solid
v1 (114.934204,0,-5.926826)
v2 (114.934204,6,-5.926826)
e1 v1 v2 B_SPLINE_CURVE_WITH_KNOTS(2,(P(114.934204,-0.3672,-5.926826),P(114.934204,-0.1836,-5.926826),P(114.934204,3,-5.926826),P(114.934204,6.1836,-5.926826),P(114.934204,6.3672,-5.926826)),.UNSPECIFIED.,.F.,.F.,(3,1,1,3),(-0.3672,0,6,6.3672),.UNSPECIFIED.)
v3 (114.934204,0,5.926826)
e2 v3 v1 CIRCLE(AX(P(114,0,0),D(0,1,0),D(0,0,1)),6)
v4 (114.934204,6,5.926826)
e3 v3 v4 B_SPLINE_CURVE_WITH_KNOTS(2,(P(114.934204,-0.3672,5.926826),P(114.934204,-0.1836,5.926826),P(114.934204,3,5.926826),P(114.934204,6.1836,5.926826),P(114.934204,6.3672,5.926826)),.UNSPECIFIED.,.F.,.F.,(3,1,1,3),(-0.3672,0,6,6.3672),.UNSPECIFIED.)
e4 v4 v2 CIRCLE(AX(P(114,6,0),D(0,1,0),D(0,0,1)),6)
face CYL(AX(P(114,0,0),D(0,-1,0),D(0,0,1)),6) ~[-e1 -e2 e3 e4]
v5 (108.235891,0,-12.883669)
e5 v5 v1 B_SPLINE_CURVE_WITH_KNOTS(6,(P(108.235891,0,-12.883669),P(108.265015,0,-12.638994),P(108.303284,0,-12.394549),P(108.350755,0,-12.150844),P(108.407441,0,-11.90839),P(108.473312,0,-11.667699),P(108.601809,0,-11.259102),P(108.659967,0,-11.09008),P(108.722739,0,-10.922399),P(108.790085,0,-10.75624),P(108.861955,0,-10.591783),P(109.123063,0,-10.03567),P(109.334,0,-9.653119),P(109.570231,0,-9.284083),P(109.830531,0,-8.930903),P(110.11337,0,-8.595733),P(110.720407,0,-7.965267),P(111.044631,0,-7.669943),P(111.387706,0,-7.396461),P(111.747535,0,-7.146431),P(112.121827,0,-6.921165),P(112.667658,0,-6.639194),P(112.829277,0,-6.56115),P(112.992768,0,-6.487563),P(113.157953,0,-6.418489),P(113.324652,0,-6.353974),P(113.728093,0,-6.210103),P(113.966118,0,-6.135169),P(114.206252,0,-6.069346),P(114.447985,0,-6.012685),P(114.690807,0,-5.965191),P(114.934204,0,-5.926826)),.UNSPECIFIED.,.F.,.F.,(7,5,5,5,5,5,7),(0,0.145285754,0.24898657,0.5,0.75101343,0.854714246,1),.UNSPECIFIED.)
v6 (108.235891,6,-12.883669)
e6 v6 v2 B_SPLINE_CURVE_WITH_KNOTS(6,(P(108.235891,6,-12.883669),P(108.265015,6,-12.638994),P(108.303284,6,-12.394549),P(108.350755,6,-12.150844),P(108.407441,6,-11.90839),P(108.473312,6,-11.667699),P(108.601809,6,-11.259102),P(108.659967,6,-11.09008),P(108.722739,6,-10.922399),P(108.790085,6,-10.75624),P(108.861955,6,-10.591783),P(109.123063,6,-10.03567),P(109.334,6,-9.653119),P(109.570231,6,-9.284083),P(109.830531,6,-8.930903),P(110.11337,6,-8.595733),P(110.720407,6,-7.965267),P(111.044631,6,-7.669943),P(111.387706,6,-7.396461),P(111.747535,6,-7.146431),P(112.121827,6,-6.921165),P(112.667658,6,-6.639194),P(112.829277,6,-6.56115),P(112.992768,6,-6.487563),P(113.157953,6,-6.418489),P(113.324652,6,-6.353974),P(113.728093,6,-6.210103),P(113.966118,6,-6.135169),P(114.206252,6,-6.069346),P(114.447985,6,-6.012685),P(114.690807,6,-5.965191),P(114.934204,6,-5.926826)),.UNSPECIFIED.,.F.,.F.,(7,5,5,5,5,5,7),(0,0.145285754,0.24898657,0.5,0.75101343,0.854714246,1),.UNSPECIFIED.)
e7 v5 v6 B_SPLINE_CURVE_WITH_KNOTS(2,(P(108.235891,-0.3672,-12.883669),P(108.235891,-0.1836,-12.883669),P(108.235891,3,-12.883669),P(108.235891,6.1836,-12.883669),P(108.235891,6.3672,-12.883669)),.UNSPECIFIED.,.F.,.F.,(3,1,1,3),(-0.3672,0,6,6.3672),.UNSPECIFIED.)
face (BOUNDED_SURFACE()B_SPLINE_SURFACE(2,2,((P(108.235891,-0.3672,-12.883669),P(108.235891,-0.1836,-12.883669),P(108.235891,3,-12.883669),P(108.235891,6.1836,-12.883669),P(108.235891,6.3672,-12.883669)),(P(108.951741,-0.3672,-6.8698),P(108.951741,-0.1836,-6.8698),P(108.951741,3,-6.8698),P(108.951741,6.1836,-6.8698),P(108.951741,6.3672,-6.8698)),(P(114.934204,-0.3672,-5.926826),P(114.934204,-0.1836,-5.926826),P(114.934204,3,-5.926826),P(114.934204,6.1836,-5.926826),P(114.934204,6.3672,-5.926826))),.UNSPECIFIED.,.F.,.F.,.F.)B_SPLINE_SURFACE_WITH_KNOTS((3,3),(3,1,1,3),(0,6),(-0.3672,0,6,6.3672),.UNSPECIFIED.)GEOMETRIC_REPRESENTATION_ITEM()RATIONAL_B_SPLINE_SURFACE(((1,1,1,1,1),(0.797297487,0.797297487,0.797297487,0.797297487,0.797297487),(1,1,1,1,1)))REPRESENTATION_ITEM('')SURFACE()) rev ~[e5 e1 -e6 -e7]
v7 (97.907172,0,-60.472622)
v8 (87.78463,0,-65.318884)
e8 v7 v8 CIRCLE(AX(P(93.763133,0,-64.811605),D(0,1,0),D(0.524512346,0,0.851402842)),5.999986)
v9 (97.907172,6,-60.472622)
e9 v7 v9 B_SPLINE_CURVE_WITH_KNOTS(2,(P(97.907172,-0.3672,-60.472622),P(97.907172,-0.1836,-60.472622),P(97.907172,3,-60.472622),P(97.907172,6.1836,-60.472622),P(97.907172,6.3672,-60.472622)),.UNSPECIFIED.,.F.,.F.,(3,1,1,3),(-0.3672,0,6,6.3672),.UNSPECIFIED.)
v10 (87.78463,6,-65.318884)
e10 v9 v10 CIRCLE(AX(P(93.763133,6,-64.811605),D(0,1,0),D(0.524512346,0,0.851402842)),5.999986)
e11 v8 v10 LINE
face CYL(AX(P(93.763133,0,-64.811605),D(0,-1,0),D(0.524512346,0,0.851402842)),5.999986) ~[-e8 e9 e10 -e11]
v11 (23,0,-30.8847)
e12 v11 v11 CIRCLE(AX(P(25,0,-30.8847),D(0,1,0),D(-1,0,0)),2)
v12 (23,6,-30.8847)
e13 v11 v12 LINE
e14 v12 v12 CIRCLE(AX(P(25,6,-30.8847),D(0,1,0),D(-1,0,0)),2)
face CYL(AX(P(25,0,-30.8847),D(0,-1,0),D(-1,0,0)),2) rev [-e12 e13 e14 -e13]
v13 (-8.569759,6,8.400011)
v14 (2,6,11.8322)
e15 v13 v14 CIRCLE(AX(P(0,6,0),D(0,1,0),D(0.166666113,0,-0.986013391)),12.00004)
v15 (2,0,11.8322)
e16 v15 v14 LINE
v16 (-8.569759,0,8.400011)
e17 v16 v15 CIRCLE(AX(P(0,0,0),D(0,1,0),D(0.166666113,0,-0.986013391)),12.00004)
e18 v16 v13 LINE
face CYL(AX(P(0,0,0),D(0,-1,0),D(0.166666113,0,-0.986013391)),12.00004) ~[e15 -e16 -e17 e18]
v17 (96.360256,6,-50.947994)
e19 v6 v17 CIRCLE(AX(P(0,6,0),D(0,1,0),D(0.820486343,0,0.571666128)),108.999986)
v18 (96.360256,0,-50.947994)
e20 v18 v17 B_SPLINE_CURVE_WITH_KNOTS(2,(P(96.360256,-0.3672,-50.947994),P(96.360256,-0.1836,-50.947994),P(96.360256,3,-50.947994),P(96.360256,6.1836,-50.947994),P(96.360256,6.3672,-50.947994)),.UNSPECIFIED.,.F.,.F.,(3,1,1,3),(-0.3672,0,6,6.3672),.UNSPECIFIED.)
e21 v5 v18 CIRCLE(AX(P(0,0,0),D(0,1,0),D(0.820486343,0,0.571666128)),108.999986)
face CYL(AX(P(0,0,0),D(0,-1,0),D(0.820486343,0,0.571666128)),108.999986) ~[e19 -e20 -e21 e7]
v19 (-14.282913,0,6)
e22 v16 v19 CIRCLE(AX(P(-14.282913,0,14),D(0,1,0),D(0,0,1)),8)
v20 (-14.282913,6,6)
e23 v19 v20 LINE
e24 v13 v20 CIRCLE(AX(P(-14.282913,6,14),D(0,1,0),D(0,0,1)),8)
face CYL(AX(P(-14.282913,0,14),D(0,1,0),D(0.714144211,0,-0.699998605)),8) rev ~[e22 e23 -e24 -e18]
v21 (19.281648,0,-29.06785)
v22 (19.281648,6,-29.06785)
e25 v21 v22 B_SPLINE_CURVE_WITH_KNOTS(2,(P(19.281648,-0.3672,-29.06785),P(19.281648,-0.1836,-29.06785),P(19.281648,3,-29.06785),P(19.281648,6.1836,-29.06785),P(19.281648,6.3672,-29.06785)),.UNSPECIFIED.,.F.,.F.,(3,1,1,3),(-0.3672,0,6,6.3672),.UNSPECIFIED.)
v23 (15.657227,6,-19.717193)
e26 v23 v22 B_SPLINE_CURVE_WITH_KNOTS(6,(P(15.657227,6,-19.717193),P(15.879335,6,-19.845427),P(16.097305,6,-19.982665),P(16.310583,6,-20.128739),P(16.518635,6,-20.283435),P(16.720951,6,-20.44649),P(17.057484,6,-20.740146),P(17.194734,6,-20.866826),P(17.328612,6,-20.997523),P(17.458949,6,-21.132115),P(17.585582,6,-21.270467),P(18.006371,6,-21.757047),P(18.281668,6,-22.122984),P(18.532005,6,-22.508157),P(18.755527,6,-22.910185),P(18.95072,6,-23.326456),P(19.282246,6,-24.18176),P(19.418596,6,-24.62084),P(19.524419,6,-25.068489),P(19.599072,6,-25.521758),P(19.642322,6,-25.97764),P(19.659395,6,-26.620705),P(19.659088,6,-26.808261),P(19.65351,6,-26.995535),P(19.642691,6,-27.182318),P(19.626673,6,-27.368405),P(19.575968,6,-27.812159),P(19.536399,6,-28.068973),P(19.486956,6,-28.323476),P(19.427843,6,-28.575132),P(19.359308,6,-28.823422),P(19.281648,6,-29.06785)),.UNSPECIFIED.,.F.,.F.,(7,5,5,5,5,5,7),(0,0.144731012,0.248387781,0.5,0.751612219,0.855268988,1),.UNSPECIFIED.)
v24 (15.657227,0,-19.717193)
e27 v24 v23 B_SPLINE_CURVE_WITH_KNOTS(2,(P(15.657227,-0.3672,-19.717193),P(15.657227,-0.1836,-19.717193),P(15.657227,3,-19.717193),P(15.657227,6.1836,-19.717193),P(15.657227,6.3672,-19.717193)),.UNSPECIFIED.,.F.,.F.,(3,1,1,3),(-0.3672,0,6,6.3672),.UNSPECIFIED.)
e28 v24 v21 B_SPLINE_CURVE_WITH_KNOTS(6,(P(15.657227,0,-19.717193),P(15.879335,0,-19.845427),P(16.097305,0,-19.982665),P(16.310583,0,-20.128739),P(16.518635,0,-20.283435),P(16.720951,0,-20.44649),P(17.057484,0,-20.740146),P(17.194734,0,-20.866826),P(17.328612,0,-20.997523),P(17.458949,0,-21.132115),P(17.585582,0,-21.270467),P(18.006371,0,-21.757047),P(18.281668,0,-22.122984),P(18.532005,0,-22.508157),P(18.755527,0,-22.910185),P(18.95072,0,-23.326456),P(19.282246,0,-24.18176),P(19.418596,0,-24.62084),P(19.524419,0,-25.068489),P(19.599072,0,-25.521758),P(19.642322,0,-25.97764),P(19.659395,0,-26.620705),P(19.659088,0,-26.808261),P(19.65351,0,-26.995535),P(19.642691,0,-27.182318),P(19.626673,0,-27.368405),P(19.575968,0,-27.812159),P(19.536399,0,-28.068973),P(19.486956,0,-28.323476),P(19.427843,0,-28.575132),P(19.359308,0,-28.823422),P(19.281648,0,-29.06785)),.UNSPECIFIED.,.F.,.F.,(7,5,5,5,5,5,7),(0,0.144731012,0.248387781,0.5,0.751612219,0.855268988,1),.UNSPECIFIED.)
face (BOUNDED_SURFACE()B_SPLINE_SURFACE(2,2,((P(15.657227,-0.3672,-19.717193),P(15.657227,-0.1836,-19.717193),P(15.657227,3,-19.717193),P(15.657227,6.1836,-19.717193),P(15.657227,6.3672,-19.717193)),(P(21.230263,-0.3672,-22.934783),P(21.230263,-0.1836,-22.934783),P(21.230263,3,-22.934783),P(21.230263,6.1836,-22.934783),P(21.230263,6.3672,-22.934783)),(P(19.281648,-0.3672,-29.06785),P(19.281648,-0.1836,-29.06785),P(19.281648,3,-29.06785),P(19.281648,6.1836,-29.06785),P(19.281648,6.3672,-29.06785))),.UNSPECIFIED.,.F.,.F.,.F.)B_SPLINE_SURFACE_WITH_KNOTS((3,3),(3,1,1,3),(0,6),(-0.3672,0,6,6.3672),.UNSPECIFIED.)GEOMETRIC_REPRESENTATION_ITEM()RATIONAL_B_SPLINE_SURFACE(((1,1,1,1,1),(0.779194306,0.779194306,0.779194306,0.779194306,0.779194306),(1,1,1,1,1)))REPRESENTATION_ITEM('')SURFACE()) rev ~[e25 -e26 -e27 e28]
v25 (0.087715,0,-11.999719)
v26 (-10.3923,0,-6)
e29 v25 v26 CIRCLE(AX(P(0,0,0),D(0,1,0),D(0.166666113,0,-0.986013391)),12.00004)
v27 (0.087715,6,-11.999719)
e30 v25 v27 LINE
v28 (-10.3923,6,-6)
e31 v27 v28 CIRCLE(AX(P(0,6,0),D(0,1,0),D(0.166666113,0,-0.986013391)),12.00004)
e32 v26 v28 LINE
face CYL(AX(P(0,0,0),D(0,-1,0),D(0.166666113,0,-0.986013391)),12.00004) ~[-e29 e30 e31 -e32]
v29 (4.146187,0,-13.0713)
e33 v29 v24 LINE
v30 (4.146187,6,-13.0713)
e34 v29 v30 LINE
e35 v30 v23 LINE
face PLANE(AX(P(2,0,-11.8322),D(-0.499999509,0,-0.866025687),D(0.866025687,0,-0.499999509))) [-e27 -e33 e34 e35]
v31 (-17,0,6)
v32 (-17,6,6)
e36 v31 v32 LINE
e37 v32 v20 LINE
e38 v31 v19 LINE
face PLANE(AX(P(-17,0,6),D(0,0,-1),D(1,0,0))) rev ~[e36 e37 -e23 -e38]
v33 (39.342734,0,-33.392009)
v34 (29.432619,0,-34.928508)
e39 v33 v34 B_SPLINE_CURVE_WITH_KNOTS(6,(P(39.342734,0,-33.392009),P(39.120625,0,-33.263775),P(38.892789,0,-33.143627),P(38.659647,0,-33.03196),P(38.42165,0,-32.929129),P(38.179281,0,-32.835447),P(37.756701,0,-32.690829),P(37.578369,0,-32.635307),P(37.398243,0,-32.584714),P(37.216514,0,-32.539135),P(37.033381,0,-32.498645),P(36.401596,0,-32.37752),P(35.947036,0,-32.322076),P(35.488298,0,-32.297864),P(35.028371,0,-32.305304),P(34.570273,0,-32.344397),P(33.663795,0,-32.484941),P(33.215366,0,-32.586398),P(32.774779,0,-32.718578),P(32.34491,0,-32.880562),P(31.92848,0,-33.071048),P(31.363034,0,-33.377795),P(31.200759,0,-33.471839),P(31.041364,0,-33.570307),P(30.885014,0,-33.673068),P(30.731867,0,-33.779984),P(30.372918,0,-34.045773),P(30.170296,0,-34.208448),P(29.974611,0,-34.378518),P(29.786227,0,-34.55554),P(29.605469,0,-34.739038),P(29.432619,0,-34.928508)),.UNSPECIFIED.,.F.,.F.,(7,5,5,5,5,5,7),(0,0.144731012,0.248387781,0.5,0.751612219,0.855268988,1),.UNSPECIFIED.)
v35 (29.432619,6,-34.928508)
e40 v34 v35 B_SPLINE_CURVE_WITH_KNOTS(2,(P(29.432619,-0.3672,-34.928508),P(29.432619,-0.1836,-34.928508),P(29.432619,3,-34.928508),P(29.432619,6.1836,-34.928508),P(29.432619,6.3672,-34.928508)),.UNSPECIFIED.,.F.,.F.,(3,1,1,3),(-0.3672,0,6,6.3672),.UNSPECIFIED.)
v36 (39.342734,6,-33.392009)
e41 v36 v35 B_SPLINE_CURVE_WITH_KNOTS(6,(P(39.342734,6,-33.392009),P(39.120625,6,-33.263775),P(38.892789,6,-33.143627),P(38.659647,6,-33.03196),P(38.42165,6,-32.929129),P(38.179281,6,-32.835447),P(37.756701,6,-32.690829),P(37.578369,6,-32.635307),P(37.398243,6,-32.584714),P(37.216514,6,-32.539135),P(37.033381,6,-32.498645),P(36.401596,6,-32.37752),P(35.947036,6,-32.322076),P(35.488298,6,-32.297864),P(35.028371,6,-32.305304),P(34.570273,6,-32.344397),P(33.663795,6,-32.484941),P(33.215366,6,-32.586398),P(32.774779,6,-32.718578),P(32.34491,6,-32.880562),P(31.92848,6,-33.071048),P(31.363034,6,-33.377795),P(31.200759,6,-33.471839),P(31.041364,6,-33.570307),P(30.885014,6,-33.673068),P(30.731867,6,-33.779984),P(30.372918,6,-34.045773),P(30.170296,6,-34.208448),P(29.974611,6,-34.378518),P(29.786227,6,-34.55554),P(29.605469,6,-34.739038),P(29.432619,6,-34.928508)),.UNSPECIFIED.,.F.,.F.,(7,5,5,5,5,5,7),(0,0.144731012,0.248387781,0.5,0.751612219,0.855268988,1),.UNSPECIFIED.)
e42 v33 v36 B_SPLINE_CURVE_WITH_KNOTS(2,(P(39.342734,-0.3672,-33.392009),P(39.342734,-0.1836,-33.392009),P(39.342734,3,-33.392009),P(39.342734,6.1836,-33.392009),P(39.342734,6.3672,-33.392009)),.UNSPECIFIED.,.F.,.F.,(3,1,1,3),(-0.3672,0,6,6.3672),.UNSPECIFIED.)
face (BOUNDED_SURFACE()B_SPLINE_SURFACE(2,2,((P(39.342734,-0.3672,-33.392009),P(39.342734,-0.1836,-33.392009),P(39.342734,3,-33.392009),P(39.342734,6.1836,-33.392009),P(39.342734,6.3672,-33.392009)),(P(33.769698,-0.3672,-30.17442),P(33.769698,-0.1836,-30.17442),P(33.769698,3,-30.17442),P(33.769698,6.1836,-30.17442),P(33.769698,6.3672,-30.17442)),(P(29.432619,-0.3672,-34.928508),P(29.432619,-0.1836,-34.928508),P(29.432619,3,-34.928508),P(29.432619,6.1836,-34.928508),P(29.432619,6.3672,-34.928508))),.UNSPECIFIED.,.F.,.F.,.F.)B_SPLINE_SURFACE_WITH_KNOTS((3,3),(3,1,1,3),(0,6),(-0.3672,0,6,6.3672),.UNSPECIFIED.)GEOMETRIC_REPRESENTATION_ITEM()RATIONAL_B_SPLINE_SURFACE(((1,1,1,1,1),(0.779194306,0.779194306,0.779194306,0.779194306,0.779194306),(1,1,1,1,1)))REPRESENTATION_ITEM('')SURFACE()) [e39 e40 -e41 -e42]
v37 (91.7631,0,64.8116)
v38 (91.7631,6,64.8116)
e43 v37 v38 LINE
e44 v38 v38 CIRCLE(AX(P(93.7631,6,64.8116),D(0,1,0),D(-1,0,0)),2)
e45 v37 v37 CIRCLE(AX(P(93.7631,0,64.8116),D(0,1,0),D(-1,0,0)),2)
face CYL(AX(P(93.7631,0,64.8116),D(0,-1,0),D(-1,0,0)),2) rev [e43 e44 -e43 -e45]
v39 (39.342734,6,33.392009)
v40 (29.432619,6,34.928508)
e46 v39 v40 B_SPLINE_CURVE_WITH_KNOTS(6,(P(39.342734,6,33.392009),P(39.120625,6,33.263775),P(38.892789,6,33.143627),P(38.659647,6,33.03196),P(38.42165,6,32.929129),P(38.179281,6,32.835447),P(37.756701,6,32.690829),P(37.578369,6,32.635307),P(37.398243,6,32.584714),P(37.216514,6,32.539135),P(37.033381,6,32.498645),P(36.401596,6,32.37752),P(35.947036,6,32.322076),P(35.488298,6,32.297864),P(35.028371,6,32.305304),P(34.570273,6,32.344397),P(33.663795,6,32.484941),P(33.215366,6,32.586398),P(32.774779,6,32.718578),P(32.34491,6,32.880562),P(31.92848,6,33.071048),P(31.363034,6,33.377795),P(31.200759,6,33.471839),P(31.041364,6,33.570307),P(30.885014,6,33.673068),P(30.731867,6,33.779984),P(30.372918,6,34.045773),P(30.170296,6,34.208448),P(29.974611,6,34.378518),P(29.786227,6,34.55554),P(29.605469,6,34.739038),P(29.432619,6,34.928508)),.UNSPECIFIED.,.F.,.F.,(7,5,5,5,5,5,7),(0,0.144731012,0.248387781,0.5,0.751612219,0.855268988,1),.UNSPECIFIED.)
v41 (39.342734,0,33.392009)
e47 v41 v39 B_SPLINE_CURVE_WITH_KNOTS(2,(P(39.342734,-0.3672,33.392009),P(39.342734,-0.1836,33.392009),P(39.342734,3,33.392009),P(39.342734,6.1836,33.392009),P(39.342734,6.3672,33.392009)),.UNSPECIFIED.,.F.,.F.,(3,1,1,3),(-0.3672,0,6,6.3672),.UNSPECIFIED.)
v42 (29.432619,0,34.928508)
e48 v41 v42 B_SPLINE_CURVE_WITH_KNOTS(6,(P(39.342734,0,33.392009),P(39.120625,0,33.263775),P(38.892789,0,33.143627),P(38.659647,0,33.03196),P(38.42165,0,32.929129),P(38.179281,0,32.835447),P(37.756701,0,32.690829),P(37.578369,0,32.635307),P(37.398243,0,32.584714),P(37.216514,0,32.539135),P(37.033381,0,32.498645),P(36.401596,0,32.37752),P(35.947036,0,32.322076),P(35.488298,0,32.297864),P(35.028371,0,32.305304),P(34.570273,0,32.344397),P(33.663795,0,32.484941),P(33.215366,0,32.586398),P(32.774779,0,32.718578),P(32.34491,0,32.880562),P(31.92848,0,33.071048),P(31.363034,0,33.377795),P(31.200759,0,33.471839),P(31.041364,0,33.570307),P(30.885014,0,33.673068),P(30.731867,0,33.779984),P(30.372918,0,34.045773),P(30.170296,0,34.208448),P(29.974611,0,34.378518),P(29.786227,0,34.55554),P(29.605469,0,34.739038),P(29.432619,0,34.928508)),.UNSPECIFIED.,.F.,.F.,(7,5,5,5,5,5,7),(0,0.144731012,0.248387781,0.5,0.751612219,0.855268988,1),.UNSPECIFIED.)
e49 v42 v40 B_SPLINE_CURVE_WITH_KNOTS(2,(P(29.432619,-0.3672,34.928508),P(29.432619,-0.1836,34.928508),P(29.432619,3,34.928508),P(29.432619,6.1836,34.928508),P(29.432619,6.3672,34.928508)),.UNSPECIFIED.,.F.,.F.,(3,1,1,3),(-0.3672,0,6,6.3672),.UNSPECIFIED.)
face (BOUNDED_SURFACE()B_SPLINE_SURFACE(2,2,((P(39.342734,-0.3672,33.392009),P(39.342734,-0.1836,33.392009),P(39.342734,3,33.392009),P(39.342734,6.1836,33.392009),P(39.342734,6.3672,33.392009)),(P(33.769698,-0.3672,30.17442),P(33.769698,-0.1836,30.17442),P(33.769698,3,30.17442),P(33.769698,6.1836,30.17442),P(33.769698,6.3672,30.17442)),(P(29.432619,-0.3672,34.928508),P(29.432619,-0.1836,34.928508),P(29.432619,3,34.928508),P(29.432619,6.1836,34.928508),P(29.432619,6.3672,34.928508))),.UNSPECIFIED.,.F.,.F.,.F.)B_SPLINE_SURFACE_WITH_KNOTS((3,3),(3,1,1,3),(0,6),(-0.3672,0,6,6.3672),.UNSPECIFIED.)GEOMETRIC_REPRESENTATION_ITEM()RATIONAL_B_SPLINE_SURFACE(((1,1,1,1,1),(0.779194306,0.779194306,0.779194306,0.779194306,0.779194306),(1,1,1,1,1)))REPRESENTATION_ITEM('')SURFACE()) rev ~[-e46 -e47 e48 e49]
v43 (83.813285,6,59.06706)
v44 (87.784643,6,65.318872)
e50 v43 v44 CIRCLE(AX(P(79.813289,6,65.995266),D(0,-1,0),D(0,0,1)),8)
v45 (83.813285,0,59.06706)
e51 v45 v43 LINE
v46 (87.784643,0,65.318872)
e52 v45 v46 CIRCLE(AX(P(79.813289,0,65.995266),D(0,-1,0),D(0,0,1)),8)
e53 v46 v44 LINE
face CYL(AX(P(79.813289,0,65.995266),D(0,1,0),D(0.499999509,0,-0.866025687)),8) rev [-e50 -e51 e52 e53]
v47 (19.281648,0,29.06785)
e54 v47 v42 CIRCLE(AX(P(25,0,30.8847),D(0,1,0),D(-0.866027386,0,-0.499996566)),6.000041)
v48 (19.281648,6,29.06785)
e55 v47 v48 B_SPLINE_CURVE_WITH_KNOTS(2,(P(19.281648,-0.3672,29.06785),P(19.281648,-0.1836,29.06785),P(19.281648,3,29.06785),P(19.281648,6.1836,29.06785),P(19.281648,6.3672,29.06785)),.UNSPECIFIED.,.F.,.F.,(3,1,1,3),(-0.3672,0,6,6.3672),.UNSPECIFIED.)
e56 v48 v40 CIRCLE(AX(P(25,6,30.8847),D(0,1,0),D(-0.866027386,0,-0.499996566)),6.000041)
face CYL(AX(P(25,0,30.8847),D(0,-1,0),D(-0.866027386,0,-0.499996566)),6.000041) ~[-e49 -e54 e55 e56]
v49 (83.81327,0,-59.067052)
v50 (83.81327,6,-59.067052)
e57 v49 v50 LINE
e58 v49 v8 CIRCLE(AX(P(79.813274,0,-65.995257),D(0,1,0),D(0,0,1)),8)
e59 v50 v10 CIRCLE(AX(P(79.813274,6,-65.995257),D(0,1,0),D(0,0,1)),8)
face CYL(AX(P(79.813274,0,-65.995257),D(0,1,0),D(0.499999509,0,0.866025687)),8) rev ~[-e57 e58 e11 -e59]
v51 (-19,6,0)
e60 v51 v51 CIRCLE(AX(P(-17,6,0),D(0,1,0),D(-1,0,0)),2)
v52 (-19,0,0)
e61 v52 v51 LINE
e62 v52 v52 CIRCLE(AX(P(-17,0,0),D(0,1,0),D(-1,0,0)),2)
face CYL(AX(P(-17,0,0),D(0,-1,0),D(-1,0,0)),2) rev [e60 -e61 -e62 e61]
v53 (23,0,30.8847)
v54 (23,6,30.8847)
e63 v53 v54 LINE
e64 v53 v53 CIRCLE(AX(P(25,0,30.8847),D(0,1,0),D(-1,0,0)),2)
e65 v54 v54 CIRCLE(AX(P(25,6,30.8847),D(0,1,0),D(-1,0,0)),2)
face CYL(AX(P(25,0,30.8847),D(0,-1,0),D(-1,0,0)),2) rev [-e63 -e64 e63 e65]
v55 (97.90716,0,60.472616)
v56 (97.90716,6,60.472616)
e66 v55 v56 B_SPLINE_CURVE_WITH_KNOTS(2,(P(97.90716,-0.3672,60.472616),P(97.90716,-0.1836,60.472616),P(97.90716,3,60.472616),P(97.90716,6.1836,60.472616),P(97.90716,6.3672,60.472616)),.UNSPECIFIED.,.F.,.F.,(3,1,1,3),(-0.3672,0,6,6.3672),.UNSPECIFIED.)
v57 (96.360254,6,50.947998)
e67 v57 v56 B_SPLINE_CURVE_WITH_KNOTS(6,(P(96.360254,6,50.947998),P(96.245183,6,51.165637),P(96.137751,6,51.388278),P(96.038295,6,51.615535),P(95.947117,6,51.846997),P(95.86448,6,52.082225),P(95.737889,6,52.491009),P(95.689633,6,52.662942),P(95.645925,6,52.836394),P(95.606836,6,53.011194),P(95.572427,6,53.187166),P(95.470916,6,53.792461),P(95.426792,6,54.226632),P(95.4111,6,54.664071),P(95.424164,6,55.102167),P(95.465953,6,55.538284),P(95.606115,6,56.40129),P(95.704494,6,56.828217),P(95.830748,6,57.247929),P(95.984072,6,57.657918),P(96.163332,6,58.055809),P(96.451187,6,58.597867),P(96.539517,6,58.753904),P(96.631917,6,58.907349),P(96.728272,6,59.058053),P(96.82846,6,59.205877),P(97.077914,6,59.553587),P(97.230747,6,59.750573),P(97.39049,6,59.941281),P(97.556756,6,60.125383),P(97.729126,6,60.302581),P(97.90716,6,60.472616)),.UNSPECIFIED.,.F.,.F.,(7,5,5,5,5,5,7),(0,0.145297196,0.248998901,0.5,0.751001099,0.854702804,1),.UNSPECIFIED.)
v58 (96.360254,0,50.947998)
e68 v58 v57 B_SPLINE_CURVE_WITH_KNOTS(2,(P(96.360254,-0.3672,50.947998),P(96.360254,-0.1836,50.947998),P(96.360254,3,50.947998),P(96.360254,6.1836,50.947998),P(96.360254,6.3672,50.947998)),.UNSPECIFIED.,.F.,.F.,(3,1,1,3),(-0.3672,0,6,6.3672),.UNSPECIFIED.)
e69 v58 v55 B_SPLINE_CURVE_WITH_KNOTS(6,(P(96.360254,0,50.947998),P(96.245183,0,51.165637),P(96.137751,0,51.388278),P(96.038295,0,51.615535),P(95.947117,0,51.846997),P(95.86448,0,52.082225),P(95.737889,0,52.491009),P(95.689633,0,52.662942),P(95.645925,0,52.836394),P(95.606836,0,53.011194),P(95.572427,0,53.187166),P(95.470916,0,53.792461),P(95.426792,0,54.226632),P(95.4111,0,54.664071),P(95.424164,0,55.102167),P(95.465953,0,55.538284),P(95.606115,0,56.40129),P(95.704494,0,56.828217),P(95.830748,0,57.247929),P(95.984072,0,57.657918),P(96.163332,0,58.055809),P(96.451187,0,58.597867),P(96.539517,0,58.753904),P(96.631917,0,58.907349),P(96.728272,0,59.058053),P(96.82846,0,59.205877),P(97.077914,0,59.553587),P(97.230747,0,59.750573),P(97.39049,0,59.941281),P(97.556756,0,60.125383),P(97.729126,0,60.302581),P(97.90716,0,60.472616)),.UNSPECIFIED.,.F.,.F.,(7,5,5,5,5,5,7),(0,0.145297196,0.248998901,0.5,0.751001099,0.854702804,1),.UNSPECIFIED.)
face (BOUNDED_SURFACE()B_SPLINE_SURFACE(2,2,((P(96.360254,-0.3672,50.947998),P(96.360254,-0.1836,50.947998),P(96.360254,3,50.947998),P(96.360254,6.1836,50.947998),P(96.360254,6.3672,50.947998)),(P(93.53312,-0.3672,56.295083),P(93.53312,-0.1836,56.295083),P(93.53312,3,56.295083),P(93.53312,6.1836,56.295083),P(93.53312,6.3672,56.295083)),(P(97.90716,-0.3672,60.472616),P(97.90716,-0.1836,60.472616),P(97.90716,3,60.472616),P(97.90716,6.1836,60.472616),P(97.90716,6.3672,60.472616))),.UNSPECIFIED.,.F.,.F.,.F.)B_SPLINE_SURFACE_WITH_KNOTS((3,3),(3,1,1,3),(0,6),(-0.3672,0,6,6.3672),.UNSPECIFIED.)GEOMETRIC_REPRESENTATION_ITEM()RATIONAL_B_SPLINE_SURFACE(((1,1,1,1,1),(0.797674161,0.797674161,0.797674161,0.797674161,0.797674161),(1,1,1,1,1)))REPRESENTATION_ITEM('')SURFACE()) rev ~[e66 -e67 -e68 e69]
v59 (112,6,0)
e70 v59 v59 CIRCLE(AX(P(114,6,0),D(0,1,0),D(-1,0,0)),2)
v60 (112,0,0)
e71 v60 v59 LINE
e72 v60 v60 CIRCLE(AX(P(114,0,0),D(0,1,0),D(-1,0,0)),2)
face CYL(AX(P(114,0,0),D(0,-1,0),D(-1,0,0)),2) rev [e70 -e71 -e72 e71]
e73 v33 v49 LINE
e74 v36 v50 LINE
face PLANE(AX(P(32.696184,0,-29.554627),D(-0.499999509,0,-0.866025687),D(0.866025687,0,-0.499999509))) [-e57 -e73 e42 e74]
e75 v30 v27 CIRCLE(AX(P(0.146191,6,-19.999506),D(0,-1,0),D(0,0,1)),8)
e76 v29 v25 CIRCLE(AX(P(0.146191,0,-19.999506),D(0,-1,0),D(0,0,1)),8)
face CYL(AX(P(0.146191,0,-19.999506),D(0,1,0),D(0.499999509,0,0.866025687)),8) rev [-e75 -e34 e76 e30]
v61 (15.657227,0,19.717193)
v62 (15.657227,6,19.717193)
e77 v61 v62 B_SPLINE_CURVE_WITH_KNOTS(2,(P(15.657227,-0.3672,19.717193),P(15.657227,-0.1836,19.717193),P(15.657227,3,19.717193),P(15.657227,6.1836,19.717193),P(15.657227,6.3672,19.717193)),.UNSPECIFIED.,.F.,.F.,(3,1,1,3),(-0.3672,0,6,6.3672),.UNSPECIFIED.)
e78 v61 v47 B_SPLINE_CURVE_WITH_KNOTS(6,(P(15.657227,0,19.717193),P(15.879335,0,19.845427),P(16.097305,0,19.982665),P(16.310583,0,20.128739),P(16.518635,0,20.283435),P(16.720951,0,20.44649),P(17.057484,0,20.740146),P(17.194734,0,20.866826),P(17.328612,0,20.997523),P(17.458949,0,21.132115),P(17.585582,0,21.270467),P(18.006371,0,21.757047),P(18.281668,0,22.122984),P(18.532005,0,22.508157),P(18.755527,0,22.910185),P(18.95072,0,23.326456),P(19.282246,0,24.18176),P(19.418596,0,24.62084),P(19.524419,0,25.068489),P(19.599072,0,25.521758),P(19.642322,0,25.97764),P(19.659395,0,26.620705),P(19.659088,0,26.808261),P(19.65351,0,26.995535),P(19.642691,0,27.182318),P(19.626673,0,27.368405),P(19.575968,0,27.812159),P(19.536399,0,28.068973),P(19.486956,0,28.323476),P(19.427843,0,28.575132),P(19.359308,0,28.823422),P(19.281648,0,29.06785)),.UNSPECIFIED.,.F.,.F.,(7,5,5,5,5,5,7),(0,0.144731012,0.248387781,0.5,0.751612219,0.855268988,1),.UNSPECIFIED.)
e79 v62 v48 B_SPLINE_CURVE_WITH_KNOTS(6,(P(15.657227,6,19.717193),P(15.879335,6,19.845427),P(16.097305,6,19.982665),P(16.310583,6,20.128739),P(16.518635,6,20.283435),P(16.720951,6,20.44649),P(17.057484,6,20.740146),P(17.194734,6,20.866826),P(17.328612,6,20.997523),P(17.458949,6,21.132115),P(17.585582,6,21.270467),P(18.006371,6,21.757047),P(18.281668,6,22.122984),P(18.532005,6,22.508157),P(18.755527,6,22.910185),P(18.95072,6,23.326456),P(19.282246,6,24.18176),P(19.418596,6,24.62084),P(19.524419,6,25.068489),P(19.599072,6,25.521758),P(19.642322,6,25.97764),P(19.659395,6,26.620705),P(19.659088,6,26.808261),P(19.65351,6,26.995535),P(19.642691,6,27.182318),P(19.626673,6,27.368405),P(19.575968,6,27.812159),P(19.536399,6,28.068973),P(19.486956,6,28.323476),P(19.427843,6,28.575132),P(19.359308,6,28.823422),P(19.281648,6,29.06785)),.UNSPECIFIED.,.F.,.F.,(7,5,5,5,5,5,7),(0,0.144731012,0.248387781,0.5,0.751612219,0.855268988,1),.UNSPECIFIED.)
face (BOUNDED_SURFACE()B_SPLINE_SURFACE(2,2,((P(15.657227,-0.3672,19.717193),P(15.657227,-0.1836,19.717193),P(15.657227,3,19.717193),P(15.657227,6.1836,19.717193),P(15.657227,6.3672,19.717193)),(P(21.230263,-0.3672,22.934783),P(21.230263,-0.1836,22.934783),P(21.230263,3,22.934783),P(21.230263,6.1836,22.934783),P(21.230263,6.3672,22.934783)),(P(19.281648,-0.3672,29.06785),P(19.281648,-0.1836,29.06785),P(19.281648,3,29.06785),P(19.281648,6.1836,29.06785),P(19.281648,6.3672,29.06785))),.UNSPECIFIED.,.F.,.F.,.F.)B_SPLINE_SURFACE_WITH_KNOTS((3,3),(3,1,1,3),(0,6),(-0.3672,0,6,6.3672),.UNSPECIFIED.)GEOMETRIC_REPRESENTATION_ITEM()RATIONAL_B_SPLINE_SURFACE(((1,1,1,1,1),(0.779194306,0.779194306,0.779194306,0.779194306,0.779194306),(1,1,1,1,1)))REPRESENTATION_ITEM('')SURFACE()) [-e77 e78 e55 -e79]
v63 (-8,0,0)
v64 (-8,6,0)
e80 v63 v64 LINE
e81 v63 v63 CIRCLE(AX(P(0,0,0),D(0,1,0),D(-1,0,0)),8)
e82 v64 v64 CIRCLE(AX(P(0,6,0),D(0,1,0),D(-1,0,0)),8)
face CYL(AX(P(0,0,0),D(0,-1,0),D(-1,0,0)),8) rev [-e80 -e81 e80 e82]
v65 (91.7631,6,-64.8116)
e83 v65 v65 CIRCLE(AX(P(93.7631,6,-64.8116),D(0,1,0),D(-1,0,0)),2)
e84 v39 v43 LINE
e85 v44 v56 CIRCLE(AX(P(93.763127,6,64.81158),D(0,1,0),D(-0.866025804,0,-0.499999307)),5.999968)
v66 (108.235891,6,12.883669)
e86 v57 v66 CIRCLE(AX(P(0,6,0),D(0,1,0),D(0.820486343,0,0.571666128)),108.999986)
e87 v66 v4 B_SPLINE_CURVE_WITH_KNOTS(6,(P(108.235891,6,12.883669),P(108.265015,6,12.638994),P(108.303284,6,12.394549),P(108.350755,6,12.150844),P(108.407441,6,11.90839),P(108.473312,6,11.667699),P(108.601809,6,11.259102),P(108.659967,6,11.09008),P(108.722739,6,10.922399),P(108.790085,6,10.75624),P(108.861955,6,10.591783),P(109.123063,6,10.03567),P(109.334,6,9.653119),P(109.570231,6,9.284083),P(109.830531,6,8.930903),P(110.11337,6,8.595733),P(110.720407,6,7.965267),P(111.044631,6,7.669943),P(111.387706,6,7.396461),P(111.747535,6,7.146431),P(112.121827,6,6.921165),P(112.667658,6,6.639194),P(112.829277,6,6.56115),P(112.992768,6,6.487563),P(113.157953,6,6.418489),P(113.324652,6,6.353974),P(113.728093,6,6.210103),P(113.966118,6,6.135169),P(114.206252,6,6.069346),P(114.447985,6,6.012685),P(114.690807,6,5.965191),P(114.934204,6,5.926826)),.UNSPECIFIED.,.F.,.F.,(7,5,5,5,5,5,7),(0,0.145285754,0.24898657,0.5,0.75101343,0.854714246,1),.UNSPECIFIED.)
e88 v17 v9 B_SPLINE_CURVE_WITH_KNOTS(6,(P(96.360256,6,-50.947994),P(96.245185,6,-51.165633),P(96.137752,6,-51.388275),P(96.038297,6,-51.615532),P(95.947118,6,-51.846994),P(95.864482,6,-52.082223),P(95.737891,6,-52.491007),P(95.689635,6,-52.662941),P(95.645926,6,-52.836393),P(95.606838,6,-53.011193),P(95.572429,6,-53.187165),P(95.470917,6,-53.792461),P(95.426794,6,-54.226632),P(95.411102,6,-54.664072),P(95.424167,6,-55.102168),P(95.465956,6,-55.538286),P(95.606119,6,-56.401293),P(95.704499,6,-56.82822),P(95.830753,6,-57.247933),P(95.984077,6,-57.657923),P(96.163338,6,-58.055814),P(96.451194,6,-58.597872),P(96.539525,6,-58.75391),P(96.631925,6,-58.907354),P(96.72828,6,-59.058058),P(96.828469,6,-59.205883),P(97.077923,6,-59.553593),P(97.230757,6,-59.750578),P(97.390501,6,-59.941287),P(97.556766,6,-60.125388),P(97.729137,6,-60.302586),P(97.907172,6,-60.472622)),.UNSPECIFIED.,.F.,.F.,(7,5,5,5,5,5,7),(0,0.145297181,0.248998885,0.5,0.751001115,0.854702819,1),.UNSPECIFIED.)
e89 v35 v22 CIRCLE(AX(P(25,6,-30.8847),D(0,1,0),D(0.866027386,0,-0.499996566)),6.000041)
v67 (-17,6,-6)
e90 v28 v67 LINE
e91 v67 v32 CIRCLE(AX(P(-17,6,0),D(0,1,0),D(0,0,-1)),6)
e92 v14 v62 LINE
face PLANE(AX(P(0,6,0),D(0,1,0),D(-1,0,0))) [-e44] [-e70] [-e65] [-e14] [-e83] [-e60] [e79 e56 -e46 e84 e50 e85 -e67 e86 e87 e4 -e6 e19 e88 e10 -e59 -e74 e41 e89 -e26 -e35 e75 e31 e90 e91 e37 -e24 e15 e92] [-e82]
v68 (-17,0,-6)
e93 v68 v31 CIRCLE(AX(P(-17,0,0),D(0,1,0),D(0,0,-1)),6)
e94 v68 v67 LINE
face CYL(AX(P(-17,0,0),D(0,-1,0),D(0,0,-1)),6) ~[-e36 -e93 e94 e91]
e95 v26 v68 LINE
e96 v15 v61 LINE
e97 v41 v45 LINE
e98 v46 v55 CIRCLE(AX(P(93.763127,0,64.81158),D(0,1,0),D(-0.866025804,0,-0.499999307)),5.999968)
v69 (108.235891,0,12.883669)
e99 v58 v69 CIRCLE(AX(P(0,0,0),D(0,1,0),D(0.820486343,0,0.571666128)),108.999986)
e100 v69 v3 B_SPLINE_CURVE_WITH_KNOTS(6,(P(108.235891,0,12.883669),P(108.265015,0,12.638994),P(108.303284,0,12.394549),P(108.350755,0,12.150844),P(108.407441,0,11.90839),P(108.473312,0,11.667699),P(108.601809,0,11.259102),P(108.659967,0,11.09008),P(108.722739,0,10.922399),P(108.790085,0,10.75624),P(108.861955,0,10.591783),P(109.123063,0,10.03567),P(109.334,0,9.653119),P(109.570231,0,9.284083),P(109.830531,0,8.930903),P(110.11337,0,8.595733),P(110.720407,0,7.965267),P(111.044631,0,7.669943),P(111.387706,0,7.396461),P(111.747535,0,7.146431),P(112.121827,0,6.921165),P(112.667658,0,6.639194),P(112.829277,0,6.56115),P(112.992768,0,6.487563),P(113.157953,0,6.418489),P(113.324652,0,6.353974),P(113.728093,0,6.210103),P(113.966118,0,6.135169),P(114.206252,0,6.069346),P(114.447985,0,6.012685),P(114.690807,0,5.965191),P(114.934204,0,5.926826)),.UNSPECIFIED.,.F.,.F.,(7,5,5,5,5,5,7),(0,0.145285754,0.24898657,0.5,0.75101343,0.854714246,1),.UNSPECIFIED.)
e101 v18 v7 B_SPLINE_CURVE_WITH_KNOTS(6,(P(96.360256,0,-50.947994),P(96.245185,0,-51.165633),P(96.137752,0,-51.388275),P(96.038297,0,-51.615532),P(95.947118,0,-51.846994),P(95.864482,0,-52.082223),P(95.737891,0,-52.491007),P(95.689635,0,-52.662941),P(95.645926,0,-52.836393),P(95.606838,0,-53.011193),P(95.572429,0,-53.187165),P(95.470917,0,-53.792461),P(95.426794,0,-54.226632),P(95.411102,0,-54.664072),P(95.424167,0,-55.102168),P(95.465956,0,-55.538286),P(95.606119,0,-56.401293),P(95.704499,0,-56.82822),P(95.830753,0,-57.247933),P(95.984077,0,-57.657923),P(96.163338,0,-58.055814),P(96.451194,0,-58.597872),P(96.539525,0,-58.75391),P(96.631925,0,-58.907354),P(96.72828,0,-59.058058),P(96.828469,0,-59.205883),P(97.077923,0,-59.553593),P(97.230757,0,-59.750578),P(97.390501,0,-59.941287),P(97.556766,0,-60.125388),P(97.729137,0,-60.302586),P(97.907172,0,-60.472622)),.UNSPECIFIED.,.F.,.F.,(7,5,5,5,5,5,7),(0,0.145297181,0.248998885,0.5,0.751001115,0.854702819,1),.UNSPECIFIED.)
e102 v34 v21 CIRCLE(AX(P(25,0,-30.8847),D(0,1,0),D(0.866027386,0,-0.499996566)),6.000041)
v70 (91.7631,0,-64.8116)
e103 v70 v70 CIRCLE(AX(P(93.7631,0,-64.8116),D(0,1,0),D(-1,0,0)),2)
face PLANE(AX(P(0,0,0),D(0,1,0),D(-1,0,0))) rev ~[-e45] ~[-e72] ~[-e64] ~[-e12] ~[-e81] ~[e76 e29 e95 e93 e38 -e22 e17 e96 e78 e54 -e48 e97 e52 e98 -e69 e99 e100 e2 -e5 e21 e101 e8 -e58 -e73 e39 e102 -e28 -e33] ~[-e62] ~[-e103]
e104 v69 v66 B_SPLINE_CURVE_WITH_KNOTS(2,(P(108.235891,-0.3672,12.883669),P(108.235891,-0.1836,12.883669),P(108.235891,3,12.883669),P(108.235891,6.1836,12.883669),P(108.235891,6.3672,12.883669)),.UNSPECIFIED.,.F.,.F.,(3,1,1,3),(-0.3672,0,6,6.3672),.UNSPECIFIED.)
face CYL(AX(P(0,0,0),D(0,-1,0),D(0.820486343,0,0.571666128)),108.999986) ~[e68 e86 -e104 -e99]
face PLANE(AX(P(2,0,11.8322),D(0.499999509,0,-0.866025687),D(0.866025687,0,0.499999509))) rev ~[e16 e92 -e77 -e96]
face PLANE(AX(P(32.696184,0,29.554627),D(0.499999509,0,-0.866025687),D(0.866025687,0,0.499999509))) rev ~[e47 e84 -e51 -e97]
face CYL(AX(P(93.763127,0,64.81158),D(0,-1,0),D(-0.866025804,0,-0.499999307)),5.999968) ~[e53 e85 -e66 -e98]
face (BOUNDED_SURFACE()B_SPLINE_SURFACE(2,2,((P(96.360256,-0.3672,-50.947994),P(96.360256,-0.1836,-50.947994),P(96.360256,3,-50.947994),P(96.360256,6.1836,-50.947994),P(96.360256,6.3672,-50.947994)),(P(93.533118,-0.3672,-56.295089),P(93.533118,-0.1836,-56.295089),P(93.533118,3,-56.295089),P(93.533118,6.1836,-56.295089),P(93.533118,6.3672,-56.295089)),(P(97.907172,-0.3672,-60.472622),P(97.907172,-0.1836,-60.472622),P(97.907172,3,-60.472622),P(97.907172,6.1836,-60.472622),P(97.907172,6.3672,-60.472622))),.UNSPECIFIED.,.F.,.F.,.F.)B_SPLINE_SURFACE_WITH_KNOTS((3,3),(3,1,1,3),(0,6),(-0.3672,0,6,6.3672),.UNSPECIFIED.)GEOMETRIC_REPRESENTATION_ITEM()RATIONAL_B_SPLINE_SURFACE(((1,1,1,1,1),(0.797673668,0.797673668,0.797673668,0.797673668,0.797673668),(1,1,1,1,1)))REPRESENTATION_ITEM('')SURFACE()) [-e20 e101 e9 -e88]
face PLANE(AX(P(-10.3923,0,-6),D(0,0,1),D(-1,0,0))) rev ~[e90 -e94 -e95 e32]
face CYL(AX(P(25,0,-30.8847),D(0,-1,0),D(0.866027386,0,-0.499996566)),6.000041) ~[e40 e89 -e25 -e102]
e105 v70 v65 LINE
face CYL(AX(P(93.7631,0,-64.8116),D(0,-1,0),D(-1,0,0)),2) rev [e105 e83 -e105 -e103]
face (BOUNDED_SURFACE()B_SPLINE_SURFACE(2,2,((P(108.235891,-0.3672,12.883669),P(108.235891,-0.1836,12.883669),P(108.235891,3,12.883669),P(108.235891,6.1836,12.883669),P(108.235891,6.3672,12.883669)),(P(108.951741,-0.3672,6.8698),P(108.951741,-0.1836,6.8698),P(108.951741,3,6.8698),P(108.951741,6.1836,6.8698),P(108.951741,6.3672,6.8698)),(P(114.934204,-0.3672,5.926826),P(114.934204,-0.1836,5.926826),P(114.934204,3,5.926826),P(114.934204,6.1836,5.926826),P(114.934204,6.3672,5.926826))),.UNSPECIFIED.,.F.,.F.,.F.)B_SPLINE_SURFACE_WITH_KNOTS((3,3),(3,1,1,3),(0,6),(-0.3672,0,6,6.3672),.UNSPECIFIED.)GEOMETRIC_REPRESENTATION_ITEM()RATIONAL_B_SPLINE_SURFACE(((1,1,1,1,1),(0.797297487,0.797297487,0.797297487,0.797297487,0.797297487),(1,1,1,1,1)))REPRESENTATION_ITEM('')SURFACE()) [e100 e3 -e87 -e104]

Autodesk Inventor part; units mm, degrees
ref_plane "YZ Plane" through (0, 0, 0) normal (1, 0, 0) x (0, 1, 0)
ref_plane "XZ Plane" through (0, 0, 0) normal (0, 1, 0) x (-1, 0, 0)
ref_plane "XY Plane" through (0, 0, 0) normal (0, 0, 1) x (1, 0, 0)
sketch "Sketch1" plane through (0, 0, 0) normal (0, 1, 0) x (-1, 0, 0)
  circle A0 centre (0, 0) radius 8
  arc A1 (-82.4777, 58.296) -> (-82.4777, -58.296) centre (0, 0) ccw construction
  arc A2 (-86.8253, 60.806) -> (-86.8253, -60.806) centre (0, 0) ccw construction
  arc A3 (-2, -11.8322) -> (-2, 11.8322) centre (0, 0) ccw
  line L0 (-2, -11.8322) -> (-89.433, -62.3116)
  arc A4 (-89.433, 62.3116) -> (-89.433, -62.3116) centre (0, 0) ccw
  line L1 (-2, 11.8322) -> (-89.433, 62.3116)
  circle A5 centre (-93.7631, -64.8116) radius 2
  circle A6 centre (-93.7631, 64.8116) radius 2
  circle A7 centre (-114, 0) radius 2
  circle A8 centre (-25, -30.8847) radius 2
  circle A9 centre (-25, 30.8847) radius 2
  circle A10 centre (17, 0) radius 2
  line L2 (10.3923, -6) -> (17, -6)
  arc A11 (17, -6) -> (17, 6) centre (17, 0) ccw
  line L3 (17, 6) -> (10.3923, 6)
  line L4 (-22.3038, -23.5546) -> (-19.8038, -27.8847)
  arc A12 (-30.1962, -33.8847) -> (-19.8038, -27.8847) centre (-25, -30.8847) ccw
  line L5 (-30.1962, -33.8847) -> (-32.6962, -29.5546)
  line L6 (-22.3038, 23.5546) -> (-19.8038, 27.8847)
  arc A13 (-19.8038, 27.8847) -> (-30.1962, 33.8847) centre (-25, 30.8847) ccw
  line L7 (-30.1962, 33.8847) -> (-32.6962, 29.5546)
  line L8 (-92.8025, 57.1726) -> (-96.9102, 59.7032)
  arc A14 (-88.567, 61.8116) -> (-96.9102, 59.7032) centre (-93.7631, 64.8116) ccw
  line L9 (-108.8347, -6) -> (-114, -6)
  arc A15 (-114, 6) -> (-114, -6) centre (-114, 0) ccw
  line L10 (-114, 6) -> (-108.8347, 6)
  line L11 (-92.8025, -57.1726) -> (-96.9102, -59.7032)
  arc A16 (-96.9102, -59.7032) -> (-88.567, -61.8116) centre (-93.7631, -64.8116) ccw
  point P0 (-109, 0)
  point P1 (12, 0)
  dimension "d0" = 16
  dimension "d1" = 101
  dimension "d3" = 12
  dimension "d6" = 60
  dimension "d7" = 2
  dimension "d8" = 5
  dimension "d9" = 3
  dimension "d10" = 4
  dimension "d12" = 5
  dimension "d13" = 5
  dimension "d14" = 5
  dimension "d15" = 5
  dimension "d16" = 5
  dimension "d17" = 5
  dimension "d18" = 25
  dimension "d19" = 6
  dimension "d20" = 6
extrude "Extrusion1" add sketch "Sketch1" along normal blind 6 contours L0 A4 L1 A3
extrude "Extrusion2" add sketch "Sketch1" along normal blind 6 contours A3 L3 A11 L2 | L4 A12 L5 L0 | A16 L11 A4 L0 | L1 L7 A13 L6 | L1 A4 L8 A14 | L9 A15 L10 A4
fillet "Fillet1" radius 8 12 edges at (32.6962, 3, 29.5546) (22.3038, 3, 23.5546) (88.567, 3, 61.8116) (92.8025, 3, 57.1726) (108.8347, 3, -6) (108.8347, 3, 6) (92.8025, 3, -57.1726) (88.567, 3, -61.8116) (32.6962, 3, -29.5546) (22.3038, 3, -23.5546) (2, 3, -11.8322) (-10.3923, 3, 6)
properties part number "RailBaseBottom" material "Polycarbonate, Clear"
